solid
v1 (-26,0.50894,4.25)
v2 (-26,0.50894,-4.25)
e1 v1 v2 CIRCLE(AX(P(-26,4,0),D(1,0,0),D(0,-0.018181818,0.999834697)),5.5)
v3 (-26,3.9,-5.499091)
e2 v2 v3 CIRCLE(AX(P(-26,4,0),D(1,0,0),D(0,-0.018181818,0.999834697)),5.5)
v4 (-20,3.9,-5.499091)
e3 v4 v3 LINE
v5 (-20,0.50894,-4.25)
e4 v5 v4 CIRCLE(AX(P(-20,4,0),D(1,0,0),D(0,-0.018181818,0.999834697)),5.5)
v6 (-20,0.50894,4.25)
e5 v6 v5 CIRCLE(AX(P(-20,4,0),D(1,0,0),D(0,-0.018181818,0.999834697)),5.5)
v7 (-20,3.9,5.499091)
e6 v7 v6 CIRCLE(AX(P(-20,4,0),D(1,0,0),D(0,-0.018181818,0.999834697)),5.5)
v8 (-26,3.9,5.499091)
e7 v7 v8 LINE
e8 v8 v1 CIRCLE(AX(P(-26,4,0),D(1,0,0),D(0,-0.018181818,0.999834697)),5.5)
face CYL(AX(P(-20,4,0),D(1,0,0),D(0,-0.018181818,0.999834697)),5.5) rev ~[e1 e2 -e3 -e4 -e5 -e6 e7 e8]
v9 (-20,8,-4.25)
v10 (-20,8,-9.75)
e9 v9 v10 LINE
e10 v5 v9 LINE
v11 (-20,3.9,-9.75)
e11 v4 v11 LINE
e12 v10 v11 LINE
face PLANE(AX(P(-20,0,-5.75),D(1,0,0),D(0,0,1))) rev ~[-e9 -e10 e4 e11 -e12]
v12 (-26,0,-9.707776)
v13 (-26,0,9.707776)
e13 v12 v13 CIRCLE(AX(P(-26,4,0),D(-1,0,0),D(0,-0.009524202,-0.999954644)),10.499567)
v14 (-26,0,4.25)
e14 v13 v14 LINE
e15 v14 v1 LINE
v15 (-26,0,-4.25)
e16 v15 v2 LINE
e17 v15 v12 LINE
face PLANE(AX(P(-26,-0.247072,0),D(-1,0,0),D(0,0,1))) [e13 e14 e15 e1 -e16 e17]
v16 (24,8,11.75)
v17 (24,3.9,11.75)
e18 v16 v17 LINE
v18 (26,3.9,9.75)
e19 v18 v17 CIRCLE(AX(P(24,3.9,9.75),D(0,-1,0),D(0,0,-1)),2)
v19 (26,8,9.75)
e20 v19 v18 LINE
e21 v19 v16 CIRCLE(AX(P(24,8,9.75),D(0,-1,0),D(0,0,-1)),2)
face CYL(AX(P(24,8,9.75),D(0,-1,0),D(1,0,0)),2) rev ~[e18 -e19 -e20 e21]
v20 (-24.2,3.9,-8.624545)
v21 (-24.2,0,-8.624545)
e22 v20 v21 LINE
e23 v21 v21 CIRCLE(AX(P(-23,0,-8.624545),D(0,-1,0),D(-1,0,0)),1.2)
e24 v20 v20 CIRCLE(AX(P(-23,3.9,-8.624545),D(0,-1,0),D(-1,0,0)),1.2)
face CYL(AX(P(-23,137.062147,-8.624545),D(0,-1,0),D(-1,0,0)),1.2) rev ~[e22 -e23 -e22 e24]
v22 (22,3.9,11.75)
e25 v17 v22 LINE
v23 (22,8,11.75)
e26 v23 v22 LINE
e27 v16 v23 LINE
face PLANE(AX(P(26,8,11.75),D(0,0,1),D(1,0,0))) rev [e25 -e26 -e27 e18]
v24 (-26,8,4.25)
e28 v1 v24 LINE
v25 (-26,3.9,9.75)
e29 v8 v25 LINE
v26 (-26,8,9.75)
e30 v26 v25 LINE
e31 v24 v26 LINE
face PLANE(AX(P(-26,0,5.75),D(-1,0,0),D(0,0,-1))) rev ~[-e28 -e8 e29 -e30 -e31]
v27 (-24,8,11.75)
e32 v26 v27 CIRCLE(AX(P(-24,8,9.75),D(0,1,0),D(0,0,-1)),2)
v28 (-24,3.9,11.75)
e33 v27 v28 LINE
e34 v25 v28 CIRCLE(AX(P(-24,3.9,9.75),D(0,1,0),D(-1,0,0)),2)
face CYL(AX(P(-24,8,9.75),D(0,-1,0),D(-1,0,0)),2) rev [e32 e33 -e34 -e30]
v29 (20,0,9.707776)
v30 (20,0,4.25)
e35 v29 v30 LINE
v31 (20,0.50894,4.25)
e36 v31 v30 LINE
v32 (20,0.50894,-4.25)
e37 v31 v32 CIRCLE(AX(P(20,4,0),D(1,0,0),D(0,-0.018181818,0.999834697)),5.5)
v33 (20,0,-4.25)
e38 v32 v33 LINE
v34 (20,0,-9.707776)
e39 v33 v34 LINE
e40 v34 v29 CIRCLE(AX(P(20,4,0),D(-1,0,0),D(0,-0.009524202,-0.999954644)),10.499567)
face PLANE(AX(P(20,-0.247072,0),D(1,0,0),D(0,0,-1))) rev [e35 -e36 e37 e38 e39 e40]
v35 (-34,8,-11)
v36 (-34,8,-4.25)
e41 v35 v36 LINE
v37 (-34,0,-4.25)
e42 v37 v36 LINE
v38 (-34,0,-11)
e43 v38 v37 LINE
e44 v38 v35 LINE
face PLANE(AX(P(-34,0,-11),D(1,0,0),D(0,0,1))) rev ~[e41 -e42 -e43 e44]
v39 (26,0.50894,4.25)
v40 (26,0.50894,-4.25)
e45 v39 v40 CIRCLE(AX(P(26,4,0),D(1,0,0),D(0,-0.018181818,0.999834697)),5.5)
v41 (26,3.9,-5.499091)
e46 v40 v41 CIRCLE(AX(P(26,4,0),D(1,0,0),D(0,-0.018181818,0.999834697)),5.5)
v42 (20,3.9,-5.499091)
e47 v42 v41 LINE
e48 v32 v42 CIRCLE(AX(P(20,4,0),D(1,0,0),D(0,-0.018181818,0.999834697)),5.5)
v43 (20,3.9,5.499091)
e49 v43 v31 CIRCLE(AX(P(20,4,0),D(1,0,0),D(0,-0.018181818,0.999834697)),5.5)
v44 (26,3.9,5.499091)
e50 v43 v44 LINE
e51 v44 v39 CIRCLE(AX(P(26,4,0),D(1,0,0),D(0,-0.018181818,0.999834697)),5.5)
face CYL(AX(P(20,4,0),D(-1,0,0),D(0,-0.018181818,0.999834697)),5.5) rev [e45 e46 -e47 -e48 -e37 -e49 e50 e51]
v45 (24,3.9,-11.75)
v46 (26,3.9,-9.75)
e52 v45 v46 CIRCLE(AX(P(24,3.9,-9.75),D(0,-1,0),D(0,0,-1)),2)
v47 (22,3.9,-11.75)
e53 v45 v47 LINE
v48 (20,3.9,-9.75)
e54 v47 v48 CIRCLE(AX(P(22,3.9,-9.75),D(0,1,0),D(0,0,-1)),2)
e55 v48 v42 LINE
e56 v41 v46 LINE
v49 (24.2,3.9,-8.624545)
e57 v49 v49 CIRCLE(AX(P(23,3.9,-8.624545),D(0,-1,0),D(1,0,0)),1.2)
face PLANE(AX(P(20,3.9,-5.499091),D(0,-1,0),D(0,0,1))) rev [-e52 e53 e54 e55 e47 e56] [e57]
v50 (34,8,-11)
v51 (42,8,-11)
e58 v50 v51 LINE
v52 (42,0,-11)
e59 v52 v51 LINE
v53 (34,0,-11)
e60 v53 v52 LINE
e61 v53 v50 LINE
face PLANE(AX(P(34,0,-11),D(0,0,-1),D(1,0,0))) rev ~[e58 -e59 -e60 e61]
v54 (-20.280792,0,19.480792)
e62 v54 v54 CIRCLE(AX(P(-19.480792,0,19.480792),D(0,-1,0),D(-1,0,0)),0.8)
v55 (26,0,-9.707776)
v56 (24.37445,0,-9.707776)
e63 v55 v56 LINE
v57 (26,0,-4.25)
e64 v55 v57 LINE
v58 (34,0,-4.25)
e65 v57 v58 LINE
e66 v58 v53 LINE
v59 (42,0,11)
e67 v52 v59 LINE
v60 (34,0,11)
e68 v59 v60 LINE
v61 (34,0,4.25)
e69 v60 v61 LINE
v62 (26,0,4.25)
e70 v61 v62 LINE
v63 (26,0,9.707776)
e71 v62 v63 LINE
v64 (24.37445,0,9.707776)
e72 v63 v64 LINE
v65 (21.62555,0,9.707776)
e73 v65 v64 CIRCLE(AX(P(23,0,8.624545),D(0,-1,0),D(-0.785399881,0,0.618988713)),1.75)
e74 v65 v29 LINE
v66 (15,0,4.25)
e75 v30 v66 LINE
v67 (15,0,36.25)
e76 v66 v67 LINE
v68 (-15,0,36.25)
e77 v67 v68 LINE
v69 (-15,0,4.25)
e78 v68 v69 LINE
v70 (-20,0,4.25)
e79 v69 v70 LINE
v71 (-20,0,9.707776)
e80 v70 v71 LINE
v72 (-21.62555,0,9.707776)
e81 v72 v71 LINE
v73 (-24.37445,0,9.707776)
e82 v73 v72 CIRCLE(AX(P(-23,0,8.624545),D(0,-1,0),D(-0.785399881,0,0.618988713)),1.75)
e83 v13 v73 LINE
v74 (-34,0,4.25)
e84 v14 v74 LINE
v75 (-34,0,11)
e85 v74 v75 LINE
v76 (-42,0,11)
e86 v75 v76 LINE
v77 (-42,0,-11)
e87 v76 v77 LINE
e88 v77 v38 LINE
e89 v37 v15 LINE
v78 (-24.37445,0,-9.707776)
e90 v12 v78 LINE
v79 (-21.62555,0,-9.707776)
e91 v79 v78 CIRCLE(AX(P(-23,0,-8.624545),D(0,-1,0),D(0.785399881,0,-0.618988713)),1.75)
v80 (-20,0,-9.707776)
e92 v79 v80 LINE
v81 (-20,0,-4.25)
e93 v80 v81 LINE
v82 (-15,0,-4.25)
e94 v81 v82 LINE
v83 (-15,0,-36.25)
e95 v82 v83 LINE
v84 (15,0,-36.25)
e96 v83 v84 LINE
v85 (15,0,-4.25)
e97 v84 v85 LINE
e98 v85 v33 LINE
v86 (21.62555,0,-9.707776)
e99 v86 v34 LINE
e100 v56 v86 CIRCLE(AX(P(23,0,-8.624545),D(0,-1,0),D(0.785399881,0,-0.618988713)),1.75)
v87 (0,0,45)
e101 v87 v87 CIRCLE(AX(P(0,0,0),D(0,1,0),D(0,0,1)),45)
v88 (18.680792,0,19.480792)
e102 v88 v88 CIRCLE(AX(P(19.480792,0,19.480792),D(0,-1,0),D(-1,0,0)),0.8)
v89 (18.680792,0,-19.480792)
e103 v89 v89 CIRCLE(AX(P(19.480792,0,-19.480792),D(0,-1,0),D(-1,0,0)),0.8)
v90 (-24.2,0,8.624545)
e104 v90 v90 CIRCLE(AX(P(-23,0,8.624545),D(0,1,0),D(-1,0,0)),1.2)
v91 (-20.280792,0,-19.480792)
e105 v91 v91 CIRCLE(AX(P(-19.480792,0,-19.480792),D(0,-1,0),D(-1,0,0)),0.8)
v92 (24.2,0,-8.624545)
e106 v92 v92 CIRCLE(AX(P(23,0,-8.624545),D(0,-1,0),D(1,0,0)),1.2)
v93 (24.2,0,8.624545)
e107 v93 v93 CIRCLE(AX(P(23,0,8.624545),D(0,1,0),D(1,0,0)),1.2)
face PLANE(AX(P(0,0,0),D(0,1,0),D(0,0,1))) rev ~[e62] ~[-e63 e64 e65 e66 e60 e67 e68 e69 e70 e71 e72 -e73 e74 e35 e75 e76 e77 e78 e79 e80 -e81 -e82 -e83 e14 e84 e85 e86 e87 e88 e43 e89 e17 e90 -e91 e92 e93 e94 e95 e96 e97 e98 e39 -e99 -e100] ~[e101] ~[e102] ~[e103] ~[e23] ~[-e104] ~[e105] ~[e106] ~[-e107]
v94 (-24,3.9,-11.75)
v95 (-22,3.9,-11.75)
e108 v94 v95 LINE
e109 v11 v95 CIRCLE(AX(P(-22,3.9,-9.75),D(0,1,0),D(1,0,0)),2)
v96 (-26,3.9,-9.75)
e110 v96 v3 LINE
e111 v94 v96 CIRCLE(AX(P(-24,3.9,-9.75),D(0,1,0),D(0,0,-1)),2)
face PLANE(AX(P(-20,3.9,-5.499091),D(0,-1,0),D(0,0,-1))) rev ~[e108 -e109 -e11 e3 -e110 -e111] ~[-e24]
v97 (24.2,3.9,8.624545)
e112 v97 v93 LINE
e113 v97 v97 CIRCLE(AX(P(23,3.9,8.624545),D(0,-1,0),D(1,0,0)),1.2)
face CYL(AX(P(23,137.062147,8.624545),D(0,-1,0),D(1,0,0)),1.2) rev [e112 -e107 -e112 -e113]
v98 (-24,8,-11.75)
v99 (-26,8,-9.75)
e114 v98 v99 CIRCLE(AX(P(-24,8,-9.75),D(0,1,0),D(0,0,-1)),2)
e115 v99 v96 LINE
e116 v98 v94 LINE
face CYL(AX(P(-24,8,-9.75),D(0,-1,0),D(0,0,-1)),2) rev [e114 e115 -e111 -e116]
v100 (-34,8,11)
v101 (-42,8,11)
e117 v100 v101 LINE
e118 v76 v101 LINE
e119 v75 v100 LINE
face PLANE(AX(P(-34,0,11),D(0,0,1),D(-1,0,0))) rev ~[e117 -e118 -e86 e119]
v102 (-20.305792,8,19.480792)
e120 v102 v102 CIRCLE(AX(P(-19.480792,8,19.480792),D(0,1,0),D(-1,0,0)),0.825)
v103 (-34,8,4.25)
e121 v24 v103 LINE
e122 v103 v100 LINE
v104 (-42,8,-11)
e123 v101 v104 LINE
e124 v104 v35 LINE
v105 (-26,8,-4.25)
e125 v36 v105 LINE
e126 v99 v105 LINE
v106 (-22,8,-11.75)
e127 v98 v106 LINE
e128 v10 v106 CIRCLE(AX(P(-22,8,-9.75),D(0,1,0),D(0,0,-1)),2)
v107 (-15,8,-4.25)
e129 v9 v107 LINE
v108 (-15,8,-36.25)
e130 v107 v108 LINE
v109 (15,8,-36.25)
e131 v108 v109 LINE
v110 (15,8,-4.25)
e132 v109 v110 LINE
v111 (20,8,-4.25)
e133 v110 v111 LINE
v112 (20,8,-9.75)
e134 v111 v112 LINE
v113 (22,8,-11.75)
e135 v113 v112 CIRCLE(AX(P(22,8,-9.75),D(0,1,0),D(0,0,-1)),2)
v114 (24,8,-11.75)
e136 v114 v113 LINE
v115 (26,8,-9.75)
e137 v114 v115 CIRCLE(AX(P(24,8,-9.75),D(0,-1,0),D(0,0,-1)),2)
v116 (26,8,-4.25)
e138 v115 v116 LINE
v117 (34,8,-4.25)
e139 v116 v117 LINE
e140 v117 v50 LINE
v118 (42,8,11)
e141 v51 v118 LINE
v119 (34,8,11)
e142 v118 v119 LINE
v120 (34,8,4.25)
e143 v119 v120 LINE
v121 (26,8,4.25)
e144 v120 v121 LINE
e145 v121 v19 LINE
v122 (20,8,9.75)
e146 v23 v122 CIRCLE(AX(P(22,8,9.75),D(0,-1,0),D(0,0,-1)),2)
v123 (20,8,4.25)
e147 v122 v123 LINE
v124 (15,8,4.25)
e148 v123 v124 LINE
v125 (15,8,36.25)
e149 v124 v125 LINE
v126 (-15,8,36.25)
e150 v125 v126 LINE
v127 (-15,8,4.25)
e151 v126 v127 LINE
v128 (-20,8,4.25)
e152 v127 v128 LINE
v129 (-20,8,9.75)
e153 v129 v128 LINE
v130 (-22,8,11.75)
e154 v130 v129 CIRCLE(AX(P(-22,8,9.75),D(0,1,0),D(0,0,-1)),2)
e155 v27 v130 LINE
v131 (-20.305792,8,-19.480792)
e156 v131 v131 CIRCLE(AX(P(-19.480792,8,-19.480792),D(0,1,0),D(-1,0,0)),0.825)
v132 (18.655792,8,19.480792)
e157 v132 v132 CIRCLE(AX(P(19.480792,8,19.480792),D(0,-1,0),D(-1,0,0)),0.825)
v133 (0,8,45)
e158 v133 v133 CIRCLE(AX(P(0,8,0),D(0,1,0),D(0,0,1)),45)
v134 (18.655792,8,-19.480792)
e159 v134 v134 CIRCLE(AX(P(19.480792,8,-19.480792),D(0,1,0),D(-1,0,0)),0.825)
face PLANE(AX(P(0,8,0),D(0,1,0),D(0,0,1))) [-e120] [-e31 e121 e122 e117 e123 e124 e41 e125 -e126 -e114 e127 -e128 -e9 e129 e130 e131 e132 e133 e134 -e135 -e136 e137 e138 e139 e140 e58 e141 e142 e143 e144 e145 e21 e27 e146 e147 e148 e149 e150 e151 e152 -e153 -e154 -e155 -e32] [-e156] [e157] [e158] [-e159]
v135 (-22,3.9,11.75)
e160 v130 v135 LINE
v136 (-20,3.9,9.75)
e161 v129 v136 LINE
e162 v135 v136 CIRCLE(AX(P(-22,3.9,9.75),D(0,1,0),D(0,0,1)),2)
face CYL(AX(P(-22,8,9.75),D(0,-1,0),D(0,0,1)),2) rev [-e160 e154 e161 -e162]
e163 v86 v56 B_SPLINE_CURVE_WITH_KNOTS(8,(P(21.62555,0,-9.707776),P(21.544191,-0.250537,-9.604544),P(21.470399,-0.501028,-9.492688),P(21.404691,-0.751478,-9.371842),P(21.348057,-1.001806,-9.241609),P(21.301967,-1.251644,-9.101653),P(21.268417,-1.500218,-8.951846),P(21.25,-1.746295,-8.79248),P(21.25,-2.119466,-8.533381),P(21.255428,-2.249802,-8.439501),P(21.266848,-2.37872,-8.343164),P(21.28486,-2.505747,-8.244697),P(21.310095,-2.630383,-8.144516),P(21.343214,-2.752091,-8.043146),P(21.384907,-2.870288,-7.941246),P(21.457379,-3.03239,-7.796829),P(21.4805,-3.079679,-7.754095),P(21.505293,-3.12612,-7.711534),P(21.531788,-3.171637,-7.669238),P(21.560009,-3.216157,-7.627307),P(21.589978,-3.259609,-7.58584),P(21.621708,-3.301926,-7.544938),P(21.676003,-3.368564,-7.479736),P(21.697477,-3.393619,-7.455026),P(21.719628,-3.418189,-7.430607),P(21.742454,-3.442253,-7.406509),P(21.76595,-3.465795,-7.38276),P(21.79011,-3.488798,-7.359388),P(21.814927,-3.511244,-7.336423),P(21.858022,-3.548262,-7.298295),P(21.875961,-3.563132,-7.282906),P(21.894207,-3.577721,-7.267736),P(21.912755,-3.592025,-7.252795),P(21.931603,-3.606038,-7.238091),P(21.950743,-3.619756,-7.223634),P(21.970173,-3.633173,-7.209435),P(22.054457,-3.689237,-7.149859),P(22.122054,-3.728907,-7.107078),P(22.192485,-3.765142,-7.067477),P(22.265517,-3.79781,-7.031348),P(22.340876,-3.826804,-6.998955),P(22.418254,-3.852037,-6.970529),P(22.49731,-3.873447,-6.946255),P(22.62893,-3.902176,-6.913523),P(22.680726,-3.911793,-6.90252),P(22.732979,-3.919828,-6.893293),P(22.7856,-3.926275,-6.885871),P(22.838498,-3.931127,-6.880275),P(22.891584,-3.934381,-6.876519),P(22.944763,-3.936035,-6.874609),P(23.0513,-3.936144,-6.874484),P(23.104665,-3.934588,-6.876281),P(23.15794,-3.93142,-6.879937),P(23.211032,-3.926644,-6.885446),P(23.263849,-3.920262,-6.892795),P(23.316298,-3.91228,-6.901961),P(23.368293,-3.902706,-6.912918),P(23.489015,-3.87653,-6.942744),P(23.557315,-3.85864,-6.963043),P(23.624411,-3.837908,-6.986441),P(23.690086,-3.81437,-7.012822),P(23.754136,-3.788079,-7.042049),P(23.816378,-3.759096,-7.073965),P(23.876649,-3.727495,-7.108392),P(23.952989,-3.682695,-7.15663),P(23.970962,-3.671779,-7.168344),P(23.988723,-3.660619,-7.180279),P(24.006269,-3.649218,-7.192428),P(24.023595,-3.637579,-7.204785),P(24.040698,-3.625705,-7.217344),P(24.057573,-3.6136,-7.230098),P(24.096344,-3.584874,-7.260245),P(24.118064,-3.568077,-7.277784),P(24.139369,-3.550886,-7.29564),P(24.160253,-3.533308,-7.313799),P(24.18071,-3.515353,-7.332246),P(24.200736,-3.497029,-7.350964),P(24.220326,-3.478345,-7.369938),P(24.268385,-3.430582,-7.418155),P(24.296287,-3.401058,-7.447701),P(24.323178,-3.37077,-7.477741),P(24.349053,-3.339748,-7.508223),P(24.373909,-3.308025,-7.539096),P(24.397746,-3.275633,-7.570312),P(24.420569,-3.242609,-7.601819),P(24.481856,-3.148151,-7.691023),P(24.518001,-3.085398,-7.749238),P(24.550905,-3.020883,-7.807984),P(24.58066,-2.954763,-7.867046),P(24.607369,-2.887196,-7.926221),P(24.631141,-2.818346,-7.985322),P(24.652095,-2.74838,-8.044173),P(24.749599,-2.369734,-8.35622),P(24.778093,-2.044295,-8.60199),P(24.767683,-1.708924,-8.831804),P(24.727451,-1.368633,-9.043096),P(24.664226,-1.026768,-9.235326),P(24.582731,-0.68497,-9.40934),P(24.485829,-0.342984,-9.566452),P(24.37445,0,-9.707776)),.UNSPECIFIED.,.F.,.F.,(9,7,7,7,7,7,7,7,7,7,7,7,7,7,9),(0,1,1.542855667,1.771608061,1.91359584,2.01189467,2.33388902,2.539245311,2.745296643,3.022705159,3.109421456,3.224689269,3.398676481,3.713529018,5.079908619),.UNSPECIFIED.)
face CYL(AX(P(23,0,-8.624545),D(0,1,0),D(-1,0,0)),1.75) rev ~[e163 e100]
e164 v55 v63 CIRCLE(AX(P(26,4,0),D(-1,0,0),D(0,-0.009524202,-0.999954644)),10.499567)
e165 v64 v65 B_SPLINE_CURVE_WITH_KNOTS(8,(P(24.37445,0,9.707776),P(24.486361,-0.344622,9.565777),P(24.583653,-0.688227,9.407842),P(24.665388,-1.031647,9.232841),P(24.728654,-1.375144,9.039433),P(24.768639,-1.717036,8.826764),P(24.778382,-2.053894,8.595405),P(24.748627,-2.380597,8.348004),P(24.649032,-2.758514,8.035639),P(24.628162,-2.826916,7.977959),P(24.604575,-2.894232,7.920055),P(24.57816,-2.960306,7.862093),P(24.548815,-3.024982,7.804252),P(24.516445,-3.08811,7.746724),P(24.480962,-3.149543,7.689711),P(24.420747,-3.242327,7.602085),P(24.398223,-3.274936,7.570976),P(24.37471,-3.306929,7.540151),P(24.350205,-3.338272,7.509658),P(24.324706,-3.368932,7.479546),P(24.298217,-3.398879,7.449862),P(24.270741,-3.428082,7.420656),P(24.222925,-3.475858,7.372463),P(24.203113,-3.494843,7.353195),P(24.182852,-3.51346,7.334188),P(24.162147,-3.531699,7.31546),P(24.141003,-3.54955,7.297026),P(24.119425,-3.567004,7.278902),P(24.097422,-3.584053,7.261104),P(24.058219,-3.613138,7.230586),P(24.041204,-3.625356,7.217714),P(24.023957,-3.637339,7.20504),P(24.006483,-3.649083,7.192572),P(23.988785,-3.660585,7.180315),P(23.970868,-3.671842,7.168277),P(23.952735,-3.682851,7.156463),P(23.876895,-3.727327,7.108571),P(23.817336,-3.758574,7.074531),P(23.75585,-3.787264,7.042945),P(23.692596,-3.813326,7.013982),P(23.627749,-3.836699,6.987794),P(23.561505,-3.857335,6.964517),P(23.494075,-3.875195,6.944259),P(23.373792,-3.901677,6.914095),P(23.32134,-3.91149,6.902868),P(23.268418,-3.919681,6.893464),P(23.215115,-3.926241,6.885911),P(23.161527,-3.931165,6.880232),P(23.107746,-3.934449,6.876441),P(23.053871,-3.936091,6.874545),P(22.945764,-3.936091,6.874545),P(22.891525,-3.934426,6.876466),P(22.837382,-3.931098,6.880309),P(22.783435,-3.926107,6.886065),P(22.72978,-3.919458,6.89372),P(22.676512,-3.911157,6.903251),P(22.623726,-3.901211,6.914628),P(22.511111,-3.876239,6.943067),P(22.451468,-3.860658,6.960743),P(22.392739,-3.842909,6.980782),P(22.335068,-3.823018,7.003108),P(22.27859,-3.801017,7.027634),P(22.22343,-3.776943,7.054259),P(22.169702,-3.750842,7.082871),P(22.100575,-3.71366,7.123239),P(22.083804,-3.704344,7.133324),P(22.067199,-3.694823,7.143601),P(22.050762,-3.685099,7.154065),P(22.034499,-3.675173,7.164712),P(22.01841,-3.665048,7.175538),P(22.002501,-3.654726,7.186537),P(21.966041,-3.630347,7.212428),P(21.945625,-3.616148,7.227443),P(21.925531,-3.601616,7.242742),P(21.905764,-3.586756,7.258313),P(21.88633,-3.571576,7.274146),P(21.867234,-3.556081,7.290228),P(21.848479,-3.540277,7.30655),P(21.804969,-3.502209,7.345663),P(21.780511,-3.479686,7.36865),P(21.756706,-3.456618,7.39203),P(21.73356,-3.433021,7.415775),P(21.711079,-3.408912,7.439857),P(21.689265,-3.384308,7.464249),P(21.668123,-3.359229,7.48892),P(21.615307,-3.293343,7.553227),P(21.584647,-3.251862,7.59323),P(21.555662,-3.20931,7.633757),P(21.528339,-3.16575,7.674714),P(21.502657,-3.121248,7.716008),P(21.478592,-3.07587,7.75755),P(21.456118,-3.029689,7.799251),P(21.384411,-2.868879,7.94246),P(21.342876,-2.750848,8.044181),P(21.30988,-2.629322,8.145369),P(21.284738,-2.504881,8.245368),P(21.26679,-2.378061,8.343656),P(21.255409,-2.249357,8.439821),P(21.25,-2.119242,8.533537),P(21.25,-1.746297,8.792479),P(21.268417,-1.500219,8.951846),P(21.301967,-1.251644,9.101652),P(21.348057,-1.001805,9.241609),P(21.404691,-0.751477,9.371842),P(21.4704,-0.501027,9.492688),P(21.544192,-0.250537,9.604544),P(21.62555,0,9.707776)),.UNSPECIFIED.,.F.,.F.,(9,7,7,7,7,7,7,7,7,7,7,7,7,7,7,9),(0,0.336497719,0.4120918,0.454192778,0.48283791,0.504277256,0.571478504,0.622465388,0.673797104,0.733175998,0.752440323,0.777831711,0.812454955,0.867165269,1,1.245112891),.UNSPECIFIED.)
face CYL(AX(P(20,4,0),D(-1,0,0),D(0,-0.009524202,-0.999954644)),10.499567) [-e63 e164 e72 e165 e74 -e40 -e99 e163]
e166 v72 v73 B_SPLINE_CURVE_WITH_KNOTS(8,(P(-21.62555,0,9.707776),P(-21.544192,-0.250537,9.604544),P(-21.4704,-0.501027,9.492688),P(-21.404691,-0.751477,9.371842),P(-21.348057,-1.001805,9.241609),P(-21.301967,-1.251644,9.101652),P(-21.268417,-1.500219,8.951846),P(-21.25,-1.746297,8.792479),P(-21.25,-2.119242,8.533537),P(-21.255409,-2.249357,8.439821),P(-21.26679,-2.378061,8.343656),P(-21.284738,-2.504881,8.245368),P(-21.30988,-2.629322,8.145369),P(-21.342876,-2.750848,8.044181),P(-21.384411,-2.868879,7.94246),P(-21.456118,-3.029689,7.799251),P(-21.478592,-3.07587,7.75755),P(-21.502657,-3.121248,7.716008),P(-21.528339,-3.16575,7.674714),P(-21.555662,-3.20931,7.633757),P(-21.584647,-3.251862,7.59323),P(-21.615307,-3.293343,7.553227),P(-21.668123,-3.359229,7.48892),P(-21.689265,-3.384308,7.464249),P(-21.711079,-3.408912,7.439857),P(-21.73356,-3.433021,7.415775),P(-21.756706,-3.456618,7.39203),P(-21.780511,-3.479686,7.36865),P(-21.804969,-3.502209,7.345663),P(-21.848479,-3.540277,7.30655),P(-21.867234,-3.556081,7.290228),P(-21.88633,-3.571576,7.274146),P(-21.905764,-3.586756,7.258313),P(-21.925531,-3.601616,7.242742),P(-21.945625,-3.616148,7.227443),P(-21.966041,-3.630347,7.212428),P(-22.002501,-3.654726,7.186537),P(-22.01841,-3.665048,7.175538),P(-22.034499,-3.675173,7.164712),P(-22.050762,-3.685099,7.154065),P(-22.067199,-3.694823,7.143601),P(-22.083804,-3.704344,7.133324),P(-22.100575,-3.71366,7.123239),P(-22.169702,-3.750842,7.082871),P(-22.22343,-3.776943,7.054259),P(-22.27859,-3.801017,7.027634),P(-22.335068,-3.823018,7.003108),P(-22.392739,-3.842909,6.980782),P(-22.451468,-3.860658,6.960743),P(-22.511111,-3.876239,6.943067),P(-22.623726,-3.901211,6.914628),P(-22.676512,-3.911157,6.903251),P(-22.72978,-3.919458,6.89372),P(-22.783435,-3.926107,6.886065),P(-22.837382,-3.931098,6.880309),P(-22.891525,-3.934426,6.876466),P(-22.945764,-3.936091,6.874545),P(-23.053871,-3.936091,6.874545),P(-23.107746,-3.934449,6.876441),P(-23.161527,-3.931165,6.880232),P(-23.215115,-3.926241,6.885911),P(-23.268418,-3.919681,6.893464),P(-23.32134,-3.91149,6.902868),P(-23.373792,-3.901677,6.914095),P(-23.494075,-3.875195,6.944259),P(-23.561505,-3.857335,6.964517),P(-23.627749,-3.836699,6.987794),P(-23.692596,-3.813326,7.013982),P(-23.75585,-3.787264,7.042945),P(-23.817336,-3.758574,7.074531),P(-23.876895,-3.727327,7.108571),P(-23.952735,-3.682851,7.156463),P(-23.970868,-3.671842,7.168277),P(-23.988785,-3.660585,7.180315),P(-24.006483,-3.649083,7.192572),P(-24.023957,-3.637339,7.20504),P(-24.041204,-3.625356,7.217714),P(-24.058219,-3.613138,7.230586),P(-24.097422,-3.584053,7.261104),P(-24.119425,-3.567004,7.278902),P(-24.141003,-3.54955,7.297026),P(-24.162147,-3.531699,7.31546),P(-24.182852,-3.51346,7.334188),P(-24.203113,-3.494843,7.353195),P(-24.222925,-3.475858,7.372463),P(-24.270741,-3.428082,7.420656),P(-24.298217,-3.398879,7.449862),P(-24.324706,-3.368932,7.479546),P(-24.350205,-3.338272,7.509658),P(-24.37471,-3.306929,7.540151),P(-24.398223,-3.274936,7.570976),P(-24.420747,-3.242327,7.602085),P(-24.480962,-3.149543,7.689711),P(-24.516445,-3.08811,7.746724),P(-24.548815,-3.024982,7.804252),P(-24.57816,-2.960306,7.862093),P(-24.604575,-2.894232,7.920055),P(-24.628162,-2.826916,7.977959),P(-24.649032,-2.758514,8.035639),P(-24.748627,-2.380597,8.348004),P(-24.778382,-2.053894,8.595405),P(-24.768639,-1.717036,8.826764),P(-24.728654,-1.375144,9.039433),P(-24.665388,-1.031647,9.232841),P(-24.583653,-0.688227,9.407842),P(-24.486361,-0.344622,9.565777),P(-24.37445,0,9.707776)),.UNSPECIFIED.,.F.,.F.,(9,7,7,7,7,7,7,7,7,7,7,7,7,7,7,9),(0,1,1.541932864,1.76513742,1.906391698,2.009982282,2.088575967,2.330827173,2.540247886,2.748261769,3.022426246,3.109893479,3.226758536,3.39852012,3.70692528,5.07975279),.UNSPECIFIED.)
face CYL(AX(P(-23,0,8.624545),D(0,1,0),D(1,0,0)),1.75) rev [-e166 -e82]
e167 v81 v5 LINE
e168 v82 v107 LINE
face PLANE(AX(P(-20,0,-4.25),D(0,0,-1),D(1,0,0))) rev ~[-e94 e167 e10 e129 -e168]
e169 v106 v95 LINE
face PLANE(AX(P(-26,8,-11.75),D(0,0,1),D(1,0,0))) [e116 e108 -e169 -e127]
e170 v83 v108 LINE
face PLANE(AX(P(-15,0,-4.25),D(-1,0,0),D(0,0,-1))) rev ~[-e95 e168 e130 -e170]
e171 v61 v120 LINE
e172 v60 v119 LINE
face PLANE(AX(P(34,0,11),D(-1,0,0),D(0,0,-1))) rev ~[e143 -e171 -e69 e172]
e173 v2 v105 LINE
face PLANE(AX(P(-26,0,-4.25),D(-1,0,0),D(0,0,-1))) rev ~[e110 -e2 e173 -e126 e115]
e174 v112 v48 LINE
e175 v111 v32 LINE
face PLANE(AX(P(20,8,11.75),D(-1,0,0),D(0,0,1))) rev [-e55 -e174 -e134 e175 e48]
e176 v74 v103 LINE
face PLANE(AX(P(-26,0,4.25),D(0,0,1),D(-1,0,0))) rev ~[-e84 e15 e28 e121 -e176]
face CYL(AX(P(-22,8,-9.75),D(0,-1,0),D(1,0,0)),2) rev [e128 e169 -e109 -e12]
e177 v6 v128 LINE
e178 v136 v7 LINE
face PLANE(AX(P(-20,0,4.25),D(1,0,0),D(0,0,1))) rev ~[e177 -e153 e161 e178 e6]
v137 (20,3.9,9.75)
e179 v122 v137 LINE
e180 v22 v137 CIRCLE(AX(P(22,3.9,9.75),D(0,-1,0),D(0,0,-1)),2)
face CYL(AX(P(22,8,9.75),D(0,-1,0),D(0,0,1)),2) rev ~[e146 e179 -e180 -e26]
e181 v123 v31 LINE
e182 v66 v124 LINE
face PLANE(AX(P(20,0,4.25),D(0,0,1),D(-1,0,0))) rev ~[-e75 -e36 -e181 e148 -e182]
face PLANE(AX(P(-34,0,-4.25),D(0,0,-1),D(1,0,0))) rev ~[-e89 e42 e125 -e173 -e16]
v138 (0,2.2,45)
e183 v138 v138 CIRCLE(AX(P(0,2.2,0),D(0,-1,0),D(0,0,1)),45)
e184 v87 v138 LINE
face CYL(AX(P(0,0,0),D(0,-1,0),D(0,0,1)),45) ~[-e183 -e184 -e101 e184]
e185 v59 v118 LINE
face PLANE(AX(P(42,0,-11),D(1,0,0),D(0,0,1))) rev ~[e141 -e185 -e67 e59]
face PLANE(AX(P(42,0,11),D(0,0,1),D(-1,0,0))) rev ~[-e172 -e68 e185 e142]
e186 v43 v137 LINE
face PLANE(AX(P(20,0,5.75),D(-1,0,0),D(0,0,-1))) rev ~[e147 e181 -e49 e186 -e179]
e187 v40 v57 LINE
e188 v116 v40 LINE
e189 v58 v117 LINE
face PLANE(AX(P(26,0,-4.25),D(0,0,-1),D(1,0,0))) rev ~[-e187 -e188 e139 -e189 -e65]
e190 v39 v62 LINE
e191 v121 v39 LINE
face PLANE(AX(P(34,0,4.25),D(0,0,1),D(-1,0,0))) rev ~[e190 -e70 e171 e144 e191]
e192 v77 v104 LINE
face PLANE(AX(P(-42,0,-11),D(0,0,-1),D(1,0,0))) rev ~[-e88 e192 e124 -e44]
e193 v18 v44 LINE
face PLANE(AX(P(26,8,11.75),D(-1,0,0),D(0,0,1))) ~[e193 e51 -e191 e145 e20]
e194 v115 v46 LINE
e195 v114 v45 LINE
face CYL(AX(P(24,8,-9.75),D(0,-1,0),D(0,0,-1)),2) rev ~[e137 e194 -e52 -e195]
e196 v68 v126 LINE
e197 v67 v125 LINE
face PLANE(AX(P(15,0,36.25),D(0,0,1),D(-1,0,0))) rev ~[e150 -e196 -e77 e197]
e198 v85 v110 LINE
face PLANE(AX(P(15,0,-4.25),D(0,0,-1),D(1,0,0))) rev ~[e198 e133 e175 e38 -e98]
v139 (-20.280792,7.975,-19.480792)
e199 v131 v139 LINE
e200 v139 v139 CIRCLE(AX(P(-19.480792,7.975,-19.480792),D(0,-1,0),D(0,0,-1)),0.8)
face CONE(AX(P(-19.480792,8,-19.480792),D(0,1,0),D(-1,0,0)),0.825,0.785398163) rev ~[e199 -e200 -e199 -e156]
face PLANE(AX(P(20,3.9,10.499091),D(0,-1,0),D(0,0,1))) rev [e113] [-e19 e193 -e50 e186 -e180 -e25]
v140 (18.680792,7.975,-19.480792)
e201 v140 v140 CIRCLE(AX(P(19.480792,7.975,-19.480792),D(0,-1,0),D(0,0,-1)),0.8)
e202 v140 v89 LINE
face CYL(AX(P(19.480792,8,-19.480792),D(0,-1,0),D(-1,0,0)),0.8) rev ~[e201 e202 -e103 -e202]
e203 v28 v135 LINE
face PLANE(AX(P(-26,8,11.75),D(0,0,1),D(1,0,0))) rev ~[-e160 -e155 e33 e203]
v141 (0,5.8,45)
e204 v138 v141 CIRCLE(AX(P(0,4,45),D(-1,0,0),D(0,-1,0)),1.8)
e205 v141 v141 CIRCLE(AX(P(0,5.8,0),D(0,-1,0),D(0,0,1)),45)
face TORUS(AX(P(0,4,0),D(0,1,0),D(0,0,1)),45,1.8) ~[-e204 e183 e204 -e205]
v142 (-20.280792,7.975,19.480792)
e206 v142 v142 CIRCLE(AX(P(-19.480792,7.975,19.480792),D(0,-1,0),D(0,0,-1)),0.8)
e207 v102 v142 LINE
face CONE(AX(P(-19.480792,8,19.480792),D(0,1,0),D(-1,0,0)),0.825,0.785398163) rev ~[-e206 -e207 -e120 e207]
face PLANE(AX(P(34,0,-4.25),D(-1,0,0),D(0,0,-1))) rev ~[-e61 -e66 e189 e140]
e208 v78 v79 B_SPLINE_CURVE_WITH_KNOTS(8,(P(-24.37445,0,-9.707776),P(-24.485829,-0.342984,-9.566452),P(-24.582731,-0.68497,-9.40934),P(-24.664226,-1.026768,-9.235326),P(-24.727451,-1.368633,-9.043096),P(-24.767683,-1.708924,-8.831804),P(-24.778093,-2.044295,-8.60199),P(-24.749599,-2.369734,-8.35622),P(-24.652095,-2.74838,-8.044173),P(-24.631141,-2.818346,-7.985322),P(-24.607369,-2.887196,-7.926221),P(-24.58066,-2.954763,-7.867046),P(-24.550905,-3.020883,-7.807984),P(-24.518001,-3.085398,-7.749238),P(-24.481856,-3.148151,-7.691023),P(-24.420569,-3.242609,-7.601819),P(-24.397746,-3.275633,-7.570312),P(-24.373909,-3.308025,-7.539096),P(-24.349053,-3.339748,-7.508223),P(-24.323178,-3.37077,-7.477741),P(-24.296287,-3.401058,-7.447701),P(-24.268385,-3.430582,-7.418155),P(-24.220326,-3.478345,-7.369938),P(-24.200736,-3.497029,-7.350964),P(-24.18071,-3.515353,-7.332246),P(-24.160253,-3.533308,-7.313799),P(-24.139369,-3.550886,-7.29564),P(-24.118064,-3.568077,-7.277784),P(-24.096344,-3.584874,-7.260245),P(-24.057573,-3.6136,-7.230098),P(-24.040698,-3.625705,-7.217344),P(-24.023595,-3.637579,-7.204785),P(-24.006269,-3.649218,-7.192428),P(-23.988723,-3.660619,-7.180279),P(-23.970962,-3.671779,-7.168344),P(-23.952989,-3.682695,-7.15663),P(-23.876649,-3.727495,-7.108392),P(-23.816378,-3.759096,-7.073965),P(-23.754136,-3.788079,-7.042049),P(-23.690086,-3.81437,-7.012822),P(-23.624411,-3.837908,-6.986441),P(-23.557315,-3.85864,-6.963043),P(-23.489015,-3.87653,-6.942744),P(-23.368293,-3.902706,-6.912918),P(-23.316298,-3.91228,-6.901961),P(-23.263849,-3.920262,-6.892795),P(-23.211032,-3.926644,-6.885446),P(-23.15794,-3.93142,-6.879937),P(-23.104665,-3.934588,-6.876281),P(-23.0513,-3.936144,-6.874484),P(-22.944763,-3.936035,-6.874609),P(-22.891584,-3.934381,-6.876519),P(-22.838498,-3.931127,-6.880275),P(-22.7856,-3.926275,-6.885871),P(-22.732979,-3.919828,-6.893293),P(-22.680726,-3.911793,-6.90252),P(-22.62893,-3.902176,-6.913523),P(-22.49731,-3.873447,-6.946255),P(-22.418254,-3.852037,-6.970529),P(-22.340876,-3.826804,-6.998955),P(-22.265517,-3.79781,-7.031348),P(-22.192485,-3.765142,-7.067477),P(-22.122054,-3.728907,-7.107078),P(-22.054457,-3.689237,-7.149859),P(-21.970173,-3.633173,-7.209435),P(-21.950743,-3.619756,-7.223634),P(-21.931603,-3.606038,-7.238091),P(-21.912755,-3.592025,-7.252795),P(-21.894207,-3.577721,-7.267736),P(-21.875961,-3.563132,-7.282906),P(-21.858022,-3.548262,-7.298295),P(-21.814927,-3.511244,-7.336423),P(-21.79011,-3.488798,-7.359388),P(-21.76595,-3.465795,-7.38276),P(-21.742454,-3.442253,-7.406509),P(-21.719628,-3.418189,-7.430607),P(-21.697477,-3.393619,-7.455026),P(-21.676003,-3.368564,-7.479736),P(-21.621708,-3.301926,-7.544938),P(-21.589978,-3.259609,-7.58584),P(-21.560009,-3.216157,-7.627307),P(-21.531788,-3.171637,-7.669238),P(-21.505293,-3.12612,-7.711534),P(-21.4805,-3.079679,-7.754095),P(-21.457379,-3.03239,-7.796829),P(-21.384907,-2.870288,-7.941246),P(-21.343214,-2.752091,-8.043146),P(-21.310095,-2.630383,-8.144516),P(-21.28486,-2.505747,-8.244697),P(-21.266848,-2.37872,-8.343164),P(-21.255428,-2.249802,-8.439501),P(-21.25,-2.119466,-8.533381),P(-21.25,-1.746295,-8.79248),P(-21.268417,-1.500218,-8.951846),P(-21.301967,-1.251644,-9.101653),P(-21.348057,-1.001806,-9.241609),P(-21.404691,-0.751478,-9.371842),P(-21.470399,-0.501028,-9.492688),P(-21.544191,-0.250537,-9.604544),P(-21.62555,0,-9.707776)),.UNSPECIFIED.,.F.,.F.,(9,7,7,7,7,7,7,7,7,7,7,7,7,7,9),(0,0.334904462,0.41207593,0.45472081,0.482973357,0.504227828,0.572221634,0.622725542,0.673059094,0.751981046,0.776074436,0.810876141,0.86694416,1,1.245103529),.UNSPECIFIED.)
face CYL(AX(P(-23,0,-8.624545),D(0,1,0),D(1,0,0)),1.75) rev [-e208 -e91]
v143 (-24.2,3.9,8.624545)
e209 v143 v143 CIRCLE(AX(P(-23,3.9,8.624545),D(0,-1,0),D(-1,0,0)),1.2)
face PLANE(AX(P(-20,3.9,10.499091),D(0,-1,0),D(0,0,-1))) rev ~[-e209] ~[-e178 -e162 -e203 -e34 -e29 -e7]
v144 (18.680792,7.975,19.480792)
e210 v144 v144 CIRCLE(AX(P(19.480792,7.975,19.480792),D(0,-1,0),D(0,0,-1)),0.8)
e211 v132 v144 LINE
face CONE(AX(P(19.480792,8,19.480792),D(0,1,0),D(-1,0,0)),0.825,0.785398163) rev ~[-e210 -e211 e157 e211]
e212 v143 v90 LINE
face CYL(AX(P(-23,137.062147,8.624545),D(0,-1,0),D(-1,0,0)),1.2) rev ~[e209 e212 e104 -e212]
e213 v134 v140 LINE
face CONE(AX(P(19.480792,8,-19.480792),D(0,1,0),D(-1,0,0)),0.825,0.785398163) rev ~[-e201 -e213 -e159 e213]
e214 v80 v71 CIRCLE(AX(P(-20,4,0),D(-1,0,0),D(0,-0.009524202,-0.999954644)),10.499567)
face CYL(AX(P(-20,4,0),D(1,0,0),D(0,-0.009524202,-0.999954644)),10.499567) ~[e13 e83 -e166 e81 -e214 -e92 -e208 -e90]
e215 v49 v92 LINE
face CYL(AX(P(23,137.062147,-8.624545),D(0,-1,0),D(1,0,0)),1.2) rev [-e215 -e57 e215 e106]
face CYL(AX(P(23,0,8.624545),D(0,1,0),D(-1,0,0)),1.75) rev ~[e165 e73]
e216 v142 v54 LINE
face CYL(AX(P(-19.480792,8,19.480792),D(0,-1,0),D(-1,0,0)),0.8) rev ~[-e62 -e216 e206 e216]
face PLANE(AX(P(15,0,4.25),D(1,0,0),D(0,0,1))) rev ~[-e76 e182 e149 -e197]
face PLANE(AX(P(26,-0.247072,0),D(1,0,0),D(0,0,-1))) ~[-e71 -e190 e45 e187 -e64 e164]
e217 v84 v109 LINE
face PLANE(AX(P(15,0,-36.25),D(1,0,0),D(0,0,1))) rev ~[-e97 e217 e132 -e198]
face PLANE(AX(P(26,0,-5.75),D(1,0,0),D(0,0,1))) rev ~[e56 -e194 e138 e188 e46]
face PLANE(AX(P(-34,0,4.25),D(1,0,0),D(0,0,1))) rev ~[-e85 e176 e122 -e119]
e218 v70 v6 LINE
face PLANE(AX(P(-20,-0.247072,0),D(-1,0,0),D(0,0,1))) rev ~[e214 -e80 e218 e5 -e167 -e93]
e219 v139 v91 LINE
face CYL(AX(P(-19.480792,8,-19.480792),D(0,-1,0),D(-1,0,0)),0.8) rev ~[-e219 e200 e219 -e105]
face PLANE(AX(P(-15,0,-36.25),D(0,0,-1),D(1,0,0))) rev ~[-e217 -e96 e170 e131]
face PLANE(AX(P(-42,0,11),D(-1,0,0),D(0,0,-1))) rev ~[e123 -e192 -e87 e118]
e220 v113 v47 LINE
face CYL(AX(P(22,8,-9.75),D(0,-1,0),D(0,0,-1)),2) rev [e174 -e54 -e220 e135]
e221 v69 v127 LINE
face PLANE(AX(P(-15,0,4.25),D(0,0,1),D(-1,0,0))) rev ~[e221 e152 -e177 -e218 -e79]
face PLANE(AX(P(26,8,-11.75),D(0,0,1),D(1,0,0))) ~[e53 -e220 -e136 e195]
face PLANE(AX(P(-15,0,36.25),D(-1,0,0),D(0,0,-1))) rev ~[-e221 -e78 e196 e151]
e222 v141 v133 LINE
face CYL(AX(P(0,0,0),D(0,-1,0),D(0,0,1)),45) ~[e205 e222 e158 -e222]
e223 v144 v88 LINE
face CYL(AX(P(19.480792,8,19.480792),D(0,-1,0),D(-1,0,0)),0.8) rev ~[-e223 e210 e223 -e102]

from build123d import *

# Parameters (mm, degrees)
SKETCH1_R                             = 45
BOSS_EXTRUDE1_DEPTH                   = 8
TAP_DRILL_FOR_M2X0_4_TAP1_D           = 1.6
TAP_DRILL_FOR_M2X0_4_TAP1_CSINK_D     = 1.65
TAP_DRILL_FOR_M2X0_4_TAP1_CSINK_ANGLE = 90
SKETCH7_W                             = 6
SKETCH7_H                             = 23.5
CUT_EXTRUDE1_DEPTH                    = 4.1
FILLET1_R                             = 2
BOSS_EXTRUDE2_DEPTH                   = 6
M2_CLEARANCE_HOLE3_D                  = 2.4
SKETCH17_R                            = 1.75
CUT_EXTRUDE2_DEPTH                    = 67.666933473
FILLET1_OF_MIRROR1_R                  = 2


with BuildPart() as part:
    # Sketch1 → Boss-Extrude1 (new body)
    with BuildSketch(Plane(origin=(0, 0, 0), x_dir=(1, 0, 0), z_dir=(0, 1, 0))):
        with Locations(Location((0, 0, 0), (0, 0, 270))):
            Circle(SKETCH1_R)
        Polygon((-15, -36.25), (-15, -4.25), (-20, -4.25), (-20, -5.75), (-26, -5.75), (-26, -4.25), (-34, -4.25), (-34, -11), (-42, -11), (-42, 11), (-34, 11), (-34, 4.25), (-26, 4.25), (-26, 5.75), (-20, 5.75), (-20, 4.25), (-15, 4.25), (-15, 36.25), (15, 36.25), (15, 4.25), (20, 4.25), (20, 5.75), (26, 5.75), (26, 4.25), (34, 4.25), (34, 11), (42, 11), (42, -11), (34, -11), (34, -4.25), (26, -4.25), (26, -5.75), (20, -5.75), (20, -4.25), (15, -4.25), (15, -36.25), align=None, mode=Mode.SUBTRACT)
    extrude(amount=BOSS_EXTRUDE1_DEPTH)

    # Sketch3 → Revolve1 (revolve)
    with BuildSketch(Plane.XY, mode=Mode.PRIVATE) as revolve1_sk:
        with BuildLine():
            Line((-45, 5.8), (-45, 2.2))
            ThreePointArc((-45, 2.2), (-46.8, 4), (-45, 5.8))
        make_face()
    revolve(revolve1_sk.sketch.rotate(Axis((0, 8.4, 0), (0, -1, 0)), 270), axis=Axis((0, 8.4, 0), (0, -1, 0)))

    # Tap Drill for M2x0.4 Tap1 (through all)
    with Locations(Plane(origin=(0, 8, 0), x_dir=(1, 0, 0), z_dir=(0, 1, 0))):
        with Locations((-19.480791822, 19.480791822), (19.480791822, 19.480791822), (19.480791822, -19.480791822), (-19.480791822, -19.480791822)):
            CounterSinkHole(TAP_DRILL_FOR_M2X0_4_TAP1_D / 2, TAP_DRILL_FOR_M2X0_4_TAP1_CSINK_D / 2, counter_sink_angle=TAP_DRILL_FOR_M2X0_4_TAP1_CSINK_ANGLE)

    # Sketch7 → Cut-Extrude1 (cut)
    with BuildSketch(Plane(origin=(0, 8, 0), x_dir=(1, 0, 0), z_dir=(0, 1, 0))):
        with Locations((-23, 0)):
            Rectangle(SKETCH7_W, SKETCH7_H)
    cut_extrude1 = extrude(amount=-CUT_EXTRUDE1_DEPTH, mode=Mode.SUBTRACT)

    # Fillet1
    fillet1_edges = [part.edges().sort_by_distance(p)[0] for p in [
        (-20, 5.95, -11.75),
        (-26, 5.95, 11.75),
        (-26, 5.95, -11.75),
        (-20, 5.95, 11.75),
    ]]
    fillet(fillet1_edges, radius=FILLET1_R)

    # Sketch8 → Boss-Extrude2 (add)
    with BuildSketch(Plane.ZY.offset(20)):
        with BuildLine():
            Line((-5.499090834, 3.9), (-10.499090834, 3.9))
            ThreePointArc((-10.499090834, 3.9), (0, -6.499567055), (10.499090834, 3.9))
            Line((10.499090834, 3.9), (5.499090834, 3.9))
            ThreePointArc((5.499090834, 3.9), (0, -1.5), (-5.499090834, 3.9))
        make_face()
    boss_extrude2 = extrude(amount=BOSS_EXTRUDE2_DEPTH)

    # M2 Clearance Hole3 (through all)
    with Locations(Plane(origin=(0, 3.9, 0), x_dir=(1, 0, 0), z_dir=(0, 1, 0))):
        with Locations((-23, 8.624545417), (-23, -8.624545417)):
            m2_clearance_hole3 = Hole(M2_CLEARANCE_HOLE3_D / 2)

    # Sketch17 → Cut-Extrude2 (cut, through all)
    with BuildSketch(Plane.XZ):
        with Locations((-23, -8.624545417)):
            Circle(SKETCH17_R)
        with Locations((-23, 8.624545417)):
            Circle(SKETCH17_R)
    cut_extrude2 = extrude(amount=CUT_EXTRUDE2_DEPTH, mode=Mode.SUBTRACT)

    # Mirror1: Cut-Extrude1, Boss-Extrude2, M2 Clearance Hole3, Cut-Extrude2 across plane
    add(cut_extrude1.mirror(Plane(origin=(0, 0, 0), x_dir=(0, 0, 1), z_dir=(1, 0, 0))), mode=Mode.SUBTRACT)
    add(boss_extrude2.mirror(Plane(origin=(0, 0, 0), x_dir=(0, 0, 1), z_dir=(1, 0, 0))))
    add(m2_clearance_hole3.mirror(Plane(origin=(0, 0, 0), x_dir=(0, 0, 1), z_dir=(1, 0, 0))), mode=Mode.SUBTRACT)
    add(cut_extrude2.mirror(Plane(origin=(0, 0, 0), x_dir=(0, 0, 1), z_dir=(1, 0, 0))), mode=Mode.SUBTRACT)

    # Fillet1 of Mirror1
    fillet1_of_mirror1_edges = [part.edges().sort_by_distance(p)[0] for p in [
        (20, 5.95, -11.75),
        (26, 5.95, 11.75),
        (26, 5.95, -11.75),
        (20, 5.95, 11.75),
    ]]
    fillet(fillet1_of_mirror1_edges, radius=FILLET1_OF_MIRROR1_R)


solid = part.part
